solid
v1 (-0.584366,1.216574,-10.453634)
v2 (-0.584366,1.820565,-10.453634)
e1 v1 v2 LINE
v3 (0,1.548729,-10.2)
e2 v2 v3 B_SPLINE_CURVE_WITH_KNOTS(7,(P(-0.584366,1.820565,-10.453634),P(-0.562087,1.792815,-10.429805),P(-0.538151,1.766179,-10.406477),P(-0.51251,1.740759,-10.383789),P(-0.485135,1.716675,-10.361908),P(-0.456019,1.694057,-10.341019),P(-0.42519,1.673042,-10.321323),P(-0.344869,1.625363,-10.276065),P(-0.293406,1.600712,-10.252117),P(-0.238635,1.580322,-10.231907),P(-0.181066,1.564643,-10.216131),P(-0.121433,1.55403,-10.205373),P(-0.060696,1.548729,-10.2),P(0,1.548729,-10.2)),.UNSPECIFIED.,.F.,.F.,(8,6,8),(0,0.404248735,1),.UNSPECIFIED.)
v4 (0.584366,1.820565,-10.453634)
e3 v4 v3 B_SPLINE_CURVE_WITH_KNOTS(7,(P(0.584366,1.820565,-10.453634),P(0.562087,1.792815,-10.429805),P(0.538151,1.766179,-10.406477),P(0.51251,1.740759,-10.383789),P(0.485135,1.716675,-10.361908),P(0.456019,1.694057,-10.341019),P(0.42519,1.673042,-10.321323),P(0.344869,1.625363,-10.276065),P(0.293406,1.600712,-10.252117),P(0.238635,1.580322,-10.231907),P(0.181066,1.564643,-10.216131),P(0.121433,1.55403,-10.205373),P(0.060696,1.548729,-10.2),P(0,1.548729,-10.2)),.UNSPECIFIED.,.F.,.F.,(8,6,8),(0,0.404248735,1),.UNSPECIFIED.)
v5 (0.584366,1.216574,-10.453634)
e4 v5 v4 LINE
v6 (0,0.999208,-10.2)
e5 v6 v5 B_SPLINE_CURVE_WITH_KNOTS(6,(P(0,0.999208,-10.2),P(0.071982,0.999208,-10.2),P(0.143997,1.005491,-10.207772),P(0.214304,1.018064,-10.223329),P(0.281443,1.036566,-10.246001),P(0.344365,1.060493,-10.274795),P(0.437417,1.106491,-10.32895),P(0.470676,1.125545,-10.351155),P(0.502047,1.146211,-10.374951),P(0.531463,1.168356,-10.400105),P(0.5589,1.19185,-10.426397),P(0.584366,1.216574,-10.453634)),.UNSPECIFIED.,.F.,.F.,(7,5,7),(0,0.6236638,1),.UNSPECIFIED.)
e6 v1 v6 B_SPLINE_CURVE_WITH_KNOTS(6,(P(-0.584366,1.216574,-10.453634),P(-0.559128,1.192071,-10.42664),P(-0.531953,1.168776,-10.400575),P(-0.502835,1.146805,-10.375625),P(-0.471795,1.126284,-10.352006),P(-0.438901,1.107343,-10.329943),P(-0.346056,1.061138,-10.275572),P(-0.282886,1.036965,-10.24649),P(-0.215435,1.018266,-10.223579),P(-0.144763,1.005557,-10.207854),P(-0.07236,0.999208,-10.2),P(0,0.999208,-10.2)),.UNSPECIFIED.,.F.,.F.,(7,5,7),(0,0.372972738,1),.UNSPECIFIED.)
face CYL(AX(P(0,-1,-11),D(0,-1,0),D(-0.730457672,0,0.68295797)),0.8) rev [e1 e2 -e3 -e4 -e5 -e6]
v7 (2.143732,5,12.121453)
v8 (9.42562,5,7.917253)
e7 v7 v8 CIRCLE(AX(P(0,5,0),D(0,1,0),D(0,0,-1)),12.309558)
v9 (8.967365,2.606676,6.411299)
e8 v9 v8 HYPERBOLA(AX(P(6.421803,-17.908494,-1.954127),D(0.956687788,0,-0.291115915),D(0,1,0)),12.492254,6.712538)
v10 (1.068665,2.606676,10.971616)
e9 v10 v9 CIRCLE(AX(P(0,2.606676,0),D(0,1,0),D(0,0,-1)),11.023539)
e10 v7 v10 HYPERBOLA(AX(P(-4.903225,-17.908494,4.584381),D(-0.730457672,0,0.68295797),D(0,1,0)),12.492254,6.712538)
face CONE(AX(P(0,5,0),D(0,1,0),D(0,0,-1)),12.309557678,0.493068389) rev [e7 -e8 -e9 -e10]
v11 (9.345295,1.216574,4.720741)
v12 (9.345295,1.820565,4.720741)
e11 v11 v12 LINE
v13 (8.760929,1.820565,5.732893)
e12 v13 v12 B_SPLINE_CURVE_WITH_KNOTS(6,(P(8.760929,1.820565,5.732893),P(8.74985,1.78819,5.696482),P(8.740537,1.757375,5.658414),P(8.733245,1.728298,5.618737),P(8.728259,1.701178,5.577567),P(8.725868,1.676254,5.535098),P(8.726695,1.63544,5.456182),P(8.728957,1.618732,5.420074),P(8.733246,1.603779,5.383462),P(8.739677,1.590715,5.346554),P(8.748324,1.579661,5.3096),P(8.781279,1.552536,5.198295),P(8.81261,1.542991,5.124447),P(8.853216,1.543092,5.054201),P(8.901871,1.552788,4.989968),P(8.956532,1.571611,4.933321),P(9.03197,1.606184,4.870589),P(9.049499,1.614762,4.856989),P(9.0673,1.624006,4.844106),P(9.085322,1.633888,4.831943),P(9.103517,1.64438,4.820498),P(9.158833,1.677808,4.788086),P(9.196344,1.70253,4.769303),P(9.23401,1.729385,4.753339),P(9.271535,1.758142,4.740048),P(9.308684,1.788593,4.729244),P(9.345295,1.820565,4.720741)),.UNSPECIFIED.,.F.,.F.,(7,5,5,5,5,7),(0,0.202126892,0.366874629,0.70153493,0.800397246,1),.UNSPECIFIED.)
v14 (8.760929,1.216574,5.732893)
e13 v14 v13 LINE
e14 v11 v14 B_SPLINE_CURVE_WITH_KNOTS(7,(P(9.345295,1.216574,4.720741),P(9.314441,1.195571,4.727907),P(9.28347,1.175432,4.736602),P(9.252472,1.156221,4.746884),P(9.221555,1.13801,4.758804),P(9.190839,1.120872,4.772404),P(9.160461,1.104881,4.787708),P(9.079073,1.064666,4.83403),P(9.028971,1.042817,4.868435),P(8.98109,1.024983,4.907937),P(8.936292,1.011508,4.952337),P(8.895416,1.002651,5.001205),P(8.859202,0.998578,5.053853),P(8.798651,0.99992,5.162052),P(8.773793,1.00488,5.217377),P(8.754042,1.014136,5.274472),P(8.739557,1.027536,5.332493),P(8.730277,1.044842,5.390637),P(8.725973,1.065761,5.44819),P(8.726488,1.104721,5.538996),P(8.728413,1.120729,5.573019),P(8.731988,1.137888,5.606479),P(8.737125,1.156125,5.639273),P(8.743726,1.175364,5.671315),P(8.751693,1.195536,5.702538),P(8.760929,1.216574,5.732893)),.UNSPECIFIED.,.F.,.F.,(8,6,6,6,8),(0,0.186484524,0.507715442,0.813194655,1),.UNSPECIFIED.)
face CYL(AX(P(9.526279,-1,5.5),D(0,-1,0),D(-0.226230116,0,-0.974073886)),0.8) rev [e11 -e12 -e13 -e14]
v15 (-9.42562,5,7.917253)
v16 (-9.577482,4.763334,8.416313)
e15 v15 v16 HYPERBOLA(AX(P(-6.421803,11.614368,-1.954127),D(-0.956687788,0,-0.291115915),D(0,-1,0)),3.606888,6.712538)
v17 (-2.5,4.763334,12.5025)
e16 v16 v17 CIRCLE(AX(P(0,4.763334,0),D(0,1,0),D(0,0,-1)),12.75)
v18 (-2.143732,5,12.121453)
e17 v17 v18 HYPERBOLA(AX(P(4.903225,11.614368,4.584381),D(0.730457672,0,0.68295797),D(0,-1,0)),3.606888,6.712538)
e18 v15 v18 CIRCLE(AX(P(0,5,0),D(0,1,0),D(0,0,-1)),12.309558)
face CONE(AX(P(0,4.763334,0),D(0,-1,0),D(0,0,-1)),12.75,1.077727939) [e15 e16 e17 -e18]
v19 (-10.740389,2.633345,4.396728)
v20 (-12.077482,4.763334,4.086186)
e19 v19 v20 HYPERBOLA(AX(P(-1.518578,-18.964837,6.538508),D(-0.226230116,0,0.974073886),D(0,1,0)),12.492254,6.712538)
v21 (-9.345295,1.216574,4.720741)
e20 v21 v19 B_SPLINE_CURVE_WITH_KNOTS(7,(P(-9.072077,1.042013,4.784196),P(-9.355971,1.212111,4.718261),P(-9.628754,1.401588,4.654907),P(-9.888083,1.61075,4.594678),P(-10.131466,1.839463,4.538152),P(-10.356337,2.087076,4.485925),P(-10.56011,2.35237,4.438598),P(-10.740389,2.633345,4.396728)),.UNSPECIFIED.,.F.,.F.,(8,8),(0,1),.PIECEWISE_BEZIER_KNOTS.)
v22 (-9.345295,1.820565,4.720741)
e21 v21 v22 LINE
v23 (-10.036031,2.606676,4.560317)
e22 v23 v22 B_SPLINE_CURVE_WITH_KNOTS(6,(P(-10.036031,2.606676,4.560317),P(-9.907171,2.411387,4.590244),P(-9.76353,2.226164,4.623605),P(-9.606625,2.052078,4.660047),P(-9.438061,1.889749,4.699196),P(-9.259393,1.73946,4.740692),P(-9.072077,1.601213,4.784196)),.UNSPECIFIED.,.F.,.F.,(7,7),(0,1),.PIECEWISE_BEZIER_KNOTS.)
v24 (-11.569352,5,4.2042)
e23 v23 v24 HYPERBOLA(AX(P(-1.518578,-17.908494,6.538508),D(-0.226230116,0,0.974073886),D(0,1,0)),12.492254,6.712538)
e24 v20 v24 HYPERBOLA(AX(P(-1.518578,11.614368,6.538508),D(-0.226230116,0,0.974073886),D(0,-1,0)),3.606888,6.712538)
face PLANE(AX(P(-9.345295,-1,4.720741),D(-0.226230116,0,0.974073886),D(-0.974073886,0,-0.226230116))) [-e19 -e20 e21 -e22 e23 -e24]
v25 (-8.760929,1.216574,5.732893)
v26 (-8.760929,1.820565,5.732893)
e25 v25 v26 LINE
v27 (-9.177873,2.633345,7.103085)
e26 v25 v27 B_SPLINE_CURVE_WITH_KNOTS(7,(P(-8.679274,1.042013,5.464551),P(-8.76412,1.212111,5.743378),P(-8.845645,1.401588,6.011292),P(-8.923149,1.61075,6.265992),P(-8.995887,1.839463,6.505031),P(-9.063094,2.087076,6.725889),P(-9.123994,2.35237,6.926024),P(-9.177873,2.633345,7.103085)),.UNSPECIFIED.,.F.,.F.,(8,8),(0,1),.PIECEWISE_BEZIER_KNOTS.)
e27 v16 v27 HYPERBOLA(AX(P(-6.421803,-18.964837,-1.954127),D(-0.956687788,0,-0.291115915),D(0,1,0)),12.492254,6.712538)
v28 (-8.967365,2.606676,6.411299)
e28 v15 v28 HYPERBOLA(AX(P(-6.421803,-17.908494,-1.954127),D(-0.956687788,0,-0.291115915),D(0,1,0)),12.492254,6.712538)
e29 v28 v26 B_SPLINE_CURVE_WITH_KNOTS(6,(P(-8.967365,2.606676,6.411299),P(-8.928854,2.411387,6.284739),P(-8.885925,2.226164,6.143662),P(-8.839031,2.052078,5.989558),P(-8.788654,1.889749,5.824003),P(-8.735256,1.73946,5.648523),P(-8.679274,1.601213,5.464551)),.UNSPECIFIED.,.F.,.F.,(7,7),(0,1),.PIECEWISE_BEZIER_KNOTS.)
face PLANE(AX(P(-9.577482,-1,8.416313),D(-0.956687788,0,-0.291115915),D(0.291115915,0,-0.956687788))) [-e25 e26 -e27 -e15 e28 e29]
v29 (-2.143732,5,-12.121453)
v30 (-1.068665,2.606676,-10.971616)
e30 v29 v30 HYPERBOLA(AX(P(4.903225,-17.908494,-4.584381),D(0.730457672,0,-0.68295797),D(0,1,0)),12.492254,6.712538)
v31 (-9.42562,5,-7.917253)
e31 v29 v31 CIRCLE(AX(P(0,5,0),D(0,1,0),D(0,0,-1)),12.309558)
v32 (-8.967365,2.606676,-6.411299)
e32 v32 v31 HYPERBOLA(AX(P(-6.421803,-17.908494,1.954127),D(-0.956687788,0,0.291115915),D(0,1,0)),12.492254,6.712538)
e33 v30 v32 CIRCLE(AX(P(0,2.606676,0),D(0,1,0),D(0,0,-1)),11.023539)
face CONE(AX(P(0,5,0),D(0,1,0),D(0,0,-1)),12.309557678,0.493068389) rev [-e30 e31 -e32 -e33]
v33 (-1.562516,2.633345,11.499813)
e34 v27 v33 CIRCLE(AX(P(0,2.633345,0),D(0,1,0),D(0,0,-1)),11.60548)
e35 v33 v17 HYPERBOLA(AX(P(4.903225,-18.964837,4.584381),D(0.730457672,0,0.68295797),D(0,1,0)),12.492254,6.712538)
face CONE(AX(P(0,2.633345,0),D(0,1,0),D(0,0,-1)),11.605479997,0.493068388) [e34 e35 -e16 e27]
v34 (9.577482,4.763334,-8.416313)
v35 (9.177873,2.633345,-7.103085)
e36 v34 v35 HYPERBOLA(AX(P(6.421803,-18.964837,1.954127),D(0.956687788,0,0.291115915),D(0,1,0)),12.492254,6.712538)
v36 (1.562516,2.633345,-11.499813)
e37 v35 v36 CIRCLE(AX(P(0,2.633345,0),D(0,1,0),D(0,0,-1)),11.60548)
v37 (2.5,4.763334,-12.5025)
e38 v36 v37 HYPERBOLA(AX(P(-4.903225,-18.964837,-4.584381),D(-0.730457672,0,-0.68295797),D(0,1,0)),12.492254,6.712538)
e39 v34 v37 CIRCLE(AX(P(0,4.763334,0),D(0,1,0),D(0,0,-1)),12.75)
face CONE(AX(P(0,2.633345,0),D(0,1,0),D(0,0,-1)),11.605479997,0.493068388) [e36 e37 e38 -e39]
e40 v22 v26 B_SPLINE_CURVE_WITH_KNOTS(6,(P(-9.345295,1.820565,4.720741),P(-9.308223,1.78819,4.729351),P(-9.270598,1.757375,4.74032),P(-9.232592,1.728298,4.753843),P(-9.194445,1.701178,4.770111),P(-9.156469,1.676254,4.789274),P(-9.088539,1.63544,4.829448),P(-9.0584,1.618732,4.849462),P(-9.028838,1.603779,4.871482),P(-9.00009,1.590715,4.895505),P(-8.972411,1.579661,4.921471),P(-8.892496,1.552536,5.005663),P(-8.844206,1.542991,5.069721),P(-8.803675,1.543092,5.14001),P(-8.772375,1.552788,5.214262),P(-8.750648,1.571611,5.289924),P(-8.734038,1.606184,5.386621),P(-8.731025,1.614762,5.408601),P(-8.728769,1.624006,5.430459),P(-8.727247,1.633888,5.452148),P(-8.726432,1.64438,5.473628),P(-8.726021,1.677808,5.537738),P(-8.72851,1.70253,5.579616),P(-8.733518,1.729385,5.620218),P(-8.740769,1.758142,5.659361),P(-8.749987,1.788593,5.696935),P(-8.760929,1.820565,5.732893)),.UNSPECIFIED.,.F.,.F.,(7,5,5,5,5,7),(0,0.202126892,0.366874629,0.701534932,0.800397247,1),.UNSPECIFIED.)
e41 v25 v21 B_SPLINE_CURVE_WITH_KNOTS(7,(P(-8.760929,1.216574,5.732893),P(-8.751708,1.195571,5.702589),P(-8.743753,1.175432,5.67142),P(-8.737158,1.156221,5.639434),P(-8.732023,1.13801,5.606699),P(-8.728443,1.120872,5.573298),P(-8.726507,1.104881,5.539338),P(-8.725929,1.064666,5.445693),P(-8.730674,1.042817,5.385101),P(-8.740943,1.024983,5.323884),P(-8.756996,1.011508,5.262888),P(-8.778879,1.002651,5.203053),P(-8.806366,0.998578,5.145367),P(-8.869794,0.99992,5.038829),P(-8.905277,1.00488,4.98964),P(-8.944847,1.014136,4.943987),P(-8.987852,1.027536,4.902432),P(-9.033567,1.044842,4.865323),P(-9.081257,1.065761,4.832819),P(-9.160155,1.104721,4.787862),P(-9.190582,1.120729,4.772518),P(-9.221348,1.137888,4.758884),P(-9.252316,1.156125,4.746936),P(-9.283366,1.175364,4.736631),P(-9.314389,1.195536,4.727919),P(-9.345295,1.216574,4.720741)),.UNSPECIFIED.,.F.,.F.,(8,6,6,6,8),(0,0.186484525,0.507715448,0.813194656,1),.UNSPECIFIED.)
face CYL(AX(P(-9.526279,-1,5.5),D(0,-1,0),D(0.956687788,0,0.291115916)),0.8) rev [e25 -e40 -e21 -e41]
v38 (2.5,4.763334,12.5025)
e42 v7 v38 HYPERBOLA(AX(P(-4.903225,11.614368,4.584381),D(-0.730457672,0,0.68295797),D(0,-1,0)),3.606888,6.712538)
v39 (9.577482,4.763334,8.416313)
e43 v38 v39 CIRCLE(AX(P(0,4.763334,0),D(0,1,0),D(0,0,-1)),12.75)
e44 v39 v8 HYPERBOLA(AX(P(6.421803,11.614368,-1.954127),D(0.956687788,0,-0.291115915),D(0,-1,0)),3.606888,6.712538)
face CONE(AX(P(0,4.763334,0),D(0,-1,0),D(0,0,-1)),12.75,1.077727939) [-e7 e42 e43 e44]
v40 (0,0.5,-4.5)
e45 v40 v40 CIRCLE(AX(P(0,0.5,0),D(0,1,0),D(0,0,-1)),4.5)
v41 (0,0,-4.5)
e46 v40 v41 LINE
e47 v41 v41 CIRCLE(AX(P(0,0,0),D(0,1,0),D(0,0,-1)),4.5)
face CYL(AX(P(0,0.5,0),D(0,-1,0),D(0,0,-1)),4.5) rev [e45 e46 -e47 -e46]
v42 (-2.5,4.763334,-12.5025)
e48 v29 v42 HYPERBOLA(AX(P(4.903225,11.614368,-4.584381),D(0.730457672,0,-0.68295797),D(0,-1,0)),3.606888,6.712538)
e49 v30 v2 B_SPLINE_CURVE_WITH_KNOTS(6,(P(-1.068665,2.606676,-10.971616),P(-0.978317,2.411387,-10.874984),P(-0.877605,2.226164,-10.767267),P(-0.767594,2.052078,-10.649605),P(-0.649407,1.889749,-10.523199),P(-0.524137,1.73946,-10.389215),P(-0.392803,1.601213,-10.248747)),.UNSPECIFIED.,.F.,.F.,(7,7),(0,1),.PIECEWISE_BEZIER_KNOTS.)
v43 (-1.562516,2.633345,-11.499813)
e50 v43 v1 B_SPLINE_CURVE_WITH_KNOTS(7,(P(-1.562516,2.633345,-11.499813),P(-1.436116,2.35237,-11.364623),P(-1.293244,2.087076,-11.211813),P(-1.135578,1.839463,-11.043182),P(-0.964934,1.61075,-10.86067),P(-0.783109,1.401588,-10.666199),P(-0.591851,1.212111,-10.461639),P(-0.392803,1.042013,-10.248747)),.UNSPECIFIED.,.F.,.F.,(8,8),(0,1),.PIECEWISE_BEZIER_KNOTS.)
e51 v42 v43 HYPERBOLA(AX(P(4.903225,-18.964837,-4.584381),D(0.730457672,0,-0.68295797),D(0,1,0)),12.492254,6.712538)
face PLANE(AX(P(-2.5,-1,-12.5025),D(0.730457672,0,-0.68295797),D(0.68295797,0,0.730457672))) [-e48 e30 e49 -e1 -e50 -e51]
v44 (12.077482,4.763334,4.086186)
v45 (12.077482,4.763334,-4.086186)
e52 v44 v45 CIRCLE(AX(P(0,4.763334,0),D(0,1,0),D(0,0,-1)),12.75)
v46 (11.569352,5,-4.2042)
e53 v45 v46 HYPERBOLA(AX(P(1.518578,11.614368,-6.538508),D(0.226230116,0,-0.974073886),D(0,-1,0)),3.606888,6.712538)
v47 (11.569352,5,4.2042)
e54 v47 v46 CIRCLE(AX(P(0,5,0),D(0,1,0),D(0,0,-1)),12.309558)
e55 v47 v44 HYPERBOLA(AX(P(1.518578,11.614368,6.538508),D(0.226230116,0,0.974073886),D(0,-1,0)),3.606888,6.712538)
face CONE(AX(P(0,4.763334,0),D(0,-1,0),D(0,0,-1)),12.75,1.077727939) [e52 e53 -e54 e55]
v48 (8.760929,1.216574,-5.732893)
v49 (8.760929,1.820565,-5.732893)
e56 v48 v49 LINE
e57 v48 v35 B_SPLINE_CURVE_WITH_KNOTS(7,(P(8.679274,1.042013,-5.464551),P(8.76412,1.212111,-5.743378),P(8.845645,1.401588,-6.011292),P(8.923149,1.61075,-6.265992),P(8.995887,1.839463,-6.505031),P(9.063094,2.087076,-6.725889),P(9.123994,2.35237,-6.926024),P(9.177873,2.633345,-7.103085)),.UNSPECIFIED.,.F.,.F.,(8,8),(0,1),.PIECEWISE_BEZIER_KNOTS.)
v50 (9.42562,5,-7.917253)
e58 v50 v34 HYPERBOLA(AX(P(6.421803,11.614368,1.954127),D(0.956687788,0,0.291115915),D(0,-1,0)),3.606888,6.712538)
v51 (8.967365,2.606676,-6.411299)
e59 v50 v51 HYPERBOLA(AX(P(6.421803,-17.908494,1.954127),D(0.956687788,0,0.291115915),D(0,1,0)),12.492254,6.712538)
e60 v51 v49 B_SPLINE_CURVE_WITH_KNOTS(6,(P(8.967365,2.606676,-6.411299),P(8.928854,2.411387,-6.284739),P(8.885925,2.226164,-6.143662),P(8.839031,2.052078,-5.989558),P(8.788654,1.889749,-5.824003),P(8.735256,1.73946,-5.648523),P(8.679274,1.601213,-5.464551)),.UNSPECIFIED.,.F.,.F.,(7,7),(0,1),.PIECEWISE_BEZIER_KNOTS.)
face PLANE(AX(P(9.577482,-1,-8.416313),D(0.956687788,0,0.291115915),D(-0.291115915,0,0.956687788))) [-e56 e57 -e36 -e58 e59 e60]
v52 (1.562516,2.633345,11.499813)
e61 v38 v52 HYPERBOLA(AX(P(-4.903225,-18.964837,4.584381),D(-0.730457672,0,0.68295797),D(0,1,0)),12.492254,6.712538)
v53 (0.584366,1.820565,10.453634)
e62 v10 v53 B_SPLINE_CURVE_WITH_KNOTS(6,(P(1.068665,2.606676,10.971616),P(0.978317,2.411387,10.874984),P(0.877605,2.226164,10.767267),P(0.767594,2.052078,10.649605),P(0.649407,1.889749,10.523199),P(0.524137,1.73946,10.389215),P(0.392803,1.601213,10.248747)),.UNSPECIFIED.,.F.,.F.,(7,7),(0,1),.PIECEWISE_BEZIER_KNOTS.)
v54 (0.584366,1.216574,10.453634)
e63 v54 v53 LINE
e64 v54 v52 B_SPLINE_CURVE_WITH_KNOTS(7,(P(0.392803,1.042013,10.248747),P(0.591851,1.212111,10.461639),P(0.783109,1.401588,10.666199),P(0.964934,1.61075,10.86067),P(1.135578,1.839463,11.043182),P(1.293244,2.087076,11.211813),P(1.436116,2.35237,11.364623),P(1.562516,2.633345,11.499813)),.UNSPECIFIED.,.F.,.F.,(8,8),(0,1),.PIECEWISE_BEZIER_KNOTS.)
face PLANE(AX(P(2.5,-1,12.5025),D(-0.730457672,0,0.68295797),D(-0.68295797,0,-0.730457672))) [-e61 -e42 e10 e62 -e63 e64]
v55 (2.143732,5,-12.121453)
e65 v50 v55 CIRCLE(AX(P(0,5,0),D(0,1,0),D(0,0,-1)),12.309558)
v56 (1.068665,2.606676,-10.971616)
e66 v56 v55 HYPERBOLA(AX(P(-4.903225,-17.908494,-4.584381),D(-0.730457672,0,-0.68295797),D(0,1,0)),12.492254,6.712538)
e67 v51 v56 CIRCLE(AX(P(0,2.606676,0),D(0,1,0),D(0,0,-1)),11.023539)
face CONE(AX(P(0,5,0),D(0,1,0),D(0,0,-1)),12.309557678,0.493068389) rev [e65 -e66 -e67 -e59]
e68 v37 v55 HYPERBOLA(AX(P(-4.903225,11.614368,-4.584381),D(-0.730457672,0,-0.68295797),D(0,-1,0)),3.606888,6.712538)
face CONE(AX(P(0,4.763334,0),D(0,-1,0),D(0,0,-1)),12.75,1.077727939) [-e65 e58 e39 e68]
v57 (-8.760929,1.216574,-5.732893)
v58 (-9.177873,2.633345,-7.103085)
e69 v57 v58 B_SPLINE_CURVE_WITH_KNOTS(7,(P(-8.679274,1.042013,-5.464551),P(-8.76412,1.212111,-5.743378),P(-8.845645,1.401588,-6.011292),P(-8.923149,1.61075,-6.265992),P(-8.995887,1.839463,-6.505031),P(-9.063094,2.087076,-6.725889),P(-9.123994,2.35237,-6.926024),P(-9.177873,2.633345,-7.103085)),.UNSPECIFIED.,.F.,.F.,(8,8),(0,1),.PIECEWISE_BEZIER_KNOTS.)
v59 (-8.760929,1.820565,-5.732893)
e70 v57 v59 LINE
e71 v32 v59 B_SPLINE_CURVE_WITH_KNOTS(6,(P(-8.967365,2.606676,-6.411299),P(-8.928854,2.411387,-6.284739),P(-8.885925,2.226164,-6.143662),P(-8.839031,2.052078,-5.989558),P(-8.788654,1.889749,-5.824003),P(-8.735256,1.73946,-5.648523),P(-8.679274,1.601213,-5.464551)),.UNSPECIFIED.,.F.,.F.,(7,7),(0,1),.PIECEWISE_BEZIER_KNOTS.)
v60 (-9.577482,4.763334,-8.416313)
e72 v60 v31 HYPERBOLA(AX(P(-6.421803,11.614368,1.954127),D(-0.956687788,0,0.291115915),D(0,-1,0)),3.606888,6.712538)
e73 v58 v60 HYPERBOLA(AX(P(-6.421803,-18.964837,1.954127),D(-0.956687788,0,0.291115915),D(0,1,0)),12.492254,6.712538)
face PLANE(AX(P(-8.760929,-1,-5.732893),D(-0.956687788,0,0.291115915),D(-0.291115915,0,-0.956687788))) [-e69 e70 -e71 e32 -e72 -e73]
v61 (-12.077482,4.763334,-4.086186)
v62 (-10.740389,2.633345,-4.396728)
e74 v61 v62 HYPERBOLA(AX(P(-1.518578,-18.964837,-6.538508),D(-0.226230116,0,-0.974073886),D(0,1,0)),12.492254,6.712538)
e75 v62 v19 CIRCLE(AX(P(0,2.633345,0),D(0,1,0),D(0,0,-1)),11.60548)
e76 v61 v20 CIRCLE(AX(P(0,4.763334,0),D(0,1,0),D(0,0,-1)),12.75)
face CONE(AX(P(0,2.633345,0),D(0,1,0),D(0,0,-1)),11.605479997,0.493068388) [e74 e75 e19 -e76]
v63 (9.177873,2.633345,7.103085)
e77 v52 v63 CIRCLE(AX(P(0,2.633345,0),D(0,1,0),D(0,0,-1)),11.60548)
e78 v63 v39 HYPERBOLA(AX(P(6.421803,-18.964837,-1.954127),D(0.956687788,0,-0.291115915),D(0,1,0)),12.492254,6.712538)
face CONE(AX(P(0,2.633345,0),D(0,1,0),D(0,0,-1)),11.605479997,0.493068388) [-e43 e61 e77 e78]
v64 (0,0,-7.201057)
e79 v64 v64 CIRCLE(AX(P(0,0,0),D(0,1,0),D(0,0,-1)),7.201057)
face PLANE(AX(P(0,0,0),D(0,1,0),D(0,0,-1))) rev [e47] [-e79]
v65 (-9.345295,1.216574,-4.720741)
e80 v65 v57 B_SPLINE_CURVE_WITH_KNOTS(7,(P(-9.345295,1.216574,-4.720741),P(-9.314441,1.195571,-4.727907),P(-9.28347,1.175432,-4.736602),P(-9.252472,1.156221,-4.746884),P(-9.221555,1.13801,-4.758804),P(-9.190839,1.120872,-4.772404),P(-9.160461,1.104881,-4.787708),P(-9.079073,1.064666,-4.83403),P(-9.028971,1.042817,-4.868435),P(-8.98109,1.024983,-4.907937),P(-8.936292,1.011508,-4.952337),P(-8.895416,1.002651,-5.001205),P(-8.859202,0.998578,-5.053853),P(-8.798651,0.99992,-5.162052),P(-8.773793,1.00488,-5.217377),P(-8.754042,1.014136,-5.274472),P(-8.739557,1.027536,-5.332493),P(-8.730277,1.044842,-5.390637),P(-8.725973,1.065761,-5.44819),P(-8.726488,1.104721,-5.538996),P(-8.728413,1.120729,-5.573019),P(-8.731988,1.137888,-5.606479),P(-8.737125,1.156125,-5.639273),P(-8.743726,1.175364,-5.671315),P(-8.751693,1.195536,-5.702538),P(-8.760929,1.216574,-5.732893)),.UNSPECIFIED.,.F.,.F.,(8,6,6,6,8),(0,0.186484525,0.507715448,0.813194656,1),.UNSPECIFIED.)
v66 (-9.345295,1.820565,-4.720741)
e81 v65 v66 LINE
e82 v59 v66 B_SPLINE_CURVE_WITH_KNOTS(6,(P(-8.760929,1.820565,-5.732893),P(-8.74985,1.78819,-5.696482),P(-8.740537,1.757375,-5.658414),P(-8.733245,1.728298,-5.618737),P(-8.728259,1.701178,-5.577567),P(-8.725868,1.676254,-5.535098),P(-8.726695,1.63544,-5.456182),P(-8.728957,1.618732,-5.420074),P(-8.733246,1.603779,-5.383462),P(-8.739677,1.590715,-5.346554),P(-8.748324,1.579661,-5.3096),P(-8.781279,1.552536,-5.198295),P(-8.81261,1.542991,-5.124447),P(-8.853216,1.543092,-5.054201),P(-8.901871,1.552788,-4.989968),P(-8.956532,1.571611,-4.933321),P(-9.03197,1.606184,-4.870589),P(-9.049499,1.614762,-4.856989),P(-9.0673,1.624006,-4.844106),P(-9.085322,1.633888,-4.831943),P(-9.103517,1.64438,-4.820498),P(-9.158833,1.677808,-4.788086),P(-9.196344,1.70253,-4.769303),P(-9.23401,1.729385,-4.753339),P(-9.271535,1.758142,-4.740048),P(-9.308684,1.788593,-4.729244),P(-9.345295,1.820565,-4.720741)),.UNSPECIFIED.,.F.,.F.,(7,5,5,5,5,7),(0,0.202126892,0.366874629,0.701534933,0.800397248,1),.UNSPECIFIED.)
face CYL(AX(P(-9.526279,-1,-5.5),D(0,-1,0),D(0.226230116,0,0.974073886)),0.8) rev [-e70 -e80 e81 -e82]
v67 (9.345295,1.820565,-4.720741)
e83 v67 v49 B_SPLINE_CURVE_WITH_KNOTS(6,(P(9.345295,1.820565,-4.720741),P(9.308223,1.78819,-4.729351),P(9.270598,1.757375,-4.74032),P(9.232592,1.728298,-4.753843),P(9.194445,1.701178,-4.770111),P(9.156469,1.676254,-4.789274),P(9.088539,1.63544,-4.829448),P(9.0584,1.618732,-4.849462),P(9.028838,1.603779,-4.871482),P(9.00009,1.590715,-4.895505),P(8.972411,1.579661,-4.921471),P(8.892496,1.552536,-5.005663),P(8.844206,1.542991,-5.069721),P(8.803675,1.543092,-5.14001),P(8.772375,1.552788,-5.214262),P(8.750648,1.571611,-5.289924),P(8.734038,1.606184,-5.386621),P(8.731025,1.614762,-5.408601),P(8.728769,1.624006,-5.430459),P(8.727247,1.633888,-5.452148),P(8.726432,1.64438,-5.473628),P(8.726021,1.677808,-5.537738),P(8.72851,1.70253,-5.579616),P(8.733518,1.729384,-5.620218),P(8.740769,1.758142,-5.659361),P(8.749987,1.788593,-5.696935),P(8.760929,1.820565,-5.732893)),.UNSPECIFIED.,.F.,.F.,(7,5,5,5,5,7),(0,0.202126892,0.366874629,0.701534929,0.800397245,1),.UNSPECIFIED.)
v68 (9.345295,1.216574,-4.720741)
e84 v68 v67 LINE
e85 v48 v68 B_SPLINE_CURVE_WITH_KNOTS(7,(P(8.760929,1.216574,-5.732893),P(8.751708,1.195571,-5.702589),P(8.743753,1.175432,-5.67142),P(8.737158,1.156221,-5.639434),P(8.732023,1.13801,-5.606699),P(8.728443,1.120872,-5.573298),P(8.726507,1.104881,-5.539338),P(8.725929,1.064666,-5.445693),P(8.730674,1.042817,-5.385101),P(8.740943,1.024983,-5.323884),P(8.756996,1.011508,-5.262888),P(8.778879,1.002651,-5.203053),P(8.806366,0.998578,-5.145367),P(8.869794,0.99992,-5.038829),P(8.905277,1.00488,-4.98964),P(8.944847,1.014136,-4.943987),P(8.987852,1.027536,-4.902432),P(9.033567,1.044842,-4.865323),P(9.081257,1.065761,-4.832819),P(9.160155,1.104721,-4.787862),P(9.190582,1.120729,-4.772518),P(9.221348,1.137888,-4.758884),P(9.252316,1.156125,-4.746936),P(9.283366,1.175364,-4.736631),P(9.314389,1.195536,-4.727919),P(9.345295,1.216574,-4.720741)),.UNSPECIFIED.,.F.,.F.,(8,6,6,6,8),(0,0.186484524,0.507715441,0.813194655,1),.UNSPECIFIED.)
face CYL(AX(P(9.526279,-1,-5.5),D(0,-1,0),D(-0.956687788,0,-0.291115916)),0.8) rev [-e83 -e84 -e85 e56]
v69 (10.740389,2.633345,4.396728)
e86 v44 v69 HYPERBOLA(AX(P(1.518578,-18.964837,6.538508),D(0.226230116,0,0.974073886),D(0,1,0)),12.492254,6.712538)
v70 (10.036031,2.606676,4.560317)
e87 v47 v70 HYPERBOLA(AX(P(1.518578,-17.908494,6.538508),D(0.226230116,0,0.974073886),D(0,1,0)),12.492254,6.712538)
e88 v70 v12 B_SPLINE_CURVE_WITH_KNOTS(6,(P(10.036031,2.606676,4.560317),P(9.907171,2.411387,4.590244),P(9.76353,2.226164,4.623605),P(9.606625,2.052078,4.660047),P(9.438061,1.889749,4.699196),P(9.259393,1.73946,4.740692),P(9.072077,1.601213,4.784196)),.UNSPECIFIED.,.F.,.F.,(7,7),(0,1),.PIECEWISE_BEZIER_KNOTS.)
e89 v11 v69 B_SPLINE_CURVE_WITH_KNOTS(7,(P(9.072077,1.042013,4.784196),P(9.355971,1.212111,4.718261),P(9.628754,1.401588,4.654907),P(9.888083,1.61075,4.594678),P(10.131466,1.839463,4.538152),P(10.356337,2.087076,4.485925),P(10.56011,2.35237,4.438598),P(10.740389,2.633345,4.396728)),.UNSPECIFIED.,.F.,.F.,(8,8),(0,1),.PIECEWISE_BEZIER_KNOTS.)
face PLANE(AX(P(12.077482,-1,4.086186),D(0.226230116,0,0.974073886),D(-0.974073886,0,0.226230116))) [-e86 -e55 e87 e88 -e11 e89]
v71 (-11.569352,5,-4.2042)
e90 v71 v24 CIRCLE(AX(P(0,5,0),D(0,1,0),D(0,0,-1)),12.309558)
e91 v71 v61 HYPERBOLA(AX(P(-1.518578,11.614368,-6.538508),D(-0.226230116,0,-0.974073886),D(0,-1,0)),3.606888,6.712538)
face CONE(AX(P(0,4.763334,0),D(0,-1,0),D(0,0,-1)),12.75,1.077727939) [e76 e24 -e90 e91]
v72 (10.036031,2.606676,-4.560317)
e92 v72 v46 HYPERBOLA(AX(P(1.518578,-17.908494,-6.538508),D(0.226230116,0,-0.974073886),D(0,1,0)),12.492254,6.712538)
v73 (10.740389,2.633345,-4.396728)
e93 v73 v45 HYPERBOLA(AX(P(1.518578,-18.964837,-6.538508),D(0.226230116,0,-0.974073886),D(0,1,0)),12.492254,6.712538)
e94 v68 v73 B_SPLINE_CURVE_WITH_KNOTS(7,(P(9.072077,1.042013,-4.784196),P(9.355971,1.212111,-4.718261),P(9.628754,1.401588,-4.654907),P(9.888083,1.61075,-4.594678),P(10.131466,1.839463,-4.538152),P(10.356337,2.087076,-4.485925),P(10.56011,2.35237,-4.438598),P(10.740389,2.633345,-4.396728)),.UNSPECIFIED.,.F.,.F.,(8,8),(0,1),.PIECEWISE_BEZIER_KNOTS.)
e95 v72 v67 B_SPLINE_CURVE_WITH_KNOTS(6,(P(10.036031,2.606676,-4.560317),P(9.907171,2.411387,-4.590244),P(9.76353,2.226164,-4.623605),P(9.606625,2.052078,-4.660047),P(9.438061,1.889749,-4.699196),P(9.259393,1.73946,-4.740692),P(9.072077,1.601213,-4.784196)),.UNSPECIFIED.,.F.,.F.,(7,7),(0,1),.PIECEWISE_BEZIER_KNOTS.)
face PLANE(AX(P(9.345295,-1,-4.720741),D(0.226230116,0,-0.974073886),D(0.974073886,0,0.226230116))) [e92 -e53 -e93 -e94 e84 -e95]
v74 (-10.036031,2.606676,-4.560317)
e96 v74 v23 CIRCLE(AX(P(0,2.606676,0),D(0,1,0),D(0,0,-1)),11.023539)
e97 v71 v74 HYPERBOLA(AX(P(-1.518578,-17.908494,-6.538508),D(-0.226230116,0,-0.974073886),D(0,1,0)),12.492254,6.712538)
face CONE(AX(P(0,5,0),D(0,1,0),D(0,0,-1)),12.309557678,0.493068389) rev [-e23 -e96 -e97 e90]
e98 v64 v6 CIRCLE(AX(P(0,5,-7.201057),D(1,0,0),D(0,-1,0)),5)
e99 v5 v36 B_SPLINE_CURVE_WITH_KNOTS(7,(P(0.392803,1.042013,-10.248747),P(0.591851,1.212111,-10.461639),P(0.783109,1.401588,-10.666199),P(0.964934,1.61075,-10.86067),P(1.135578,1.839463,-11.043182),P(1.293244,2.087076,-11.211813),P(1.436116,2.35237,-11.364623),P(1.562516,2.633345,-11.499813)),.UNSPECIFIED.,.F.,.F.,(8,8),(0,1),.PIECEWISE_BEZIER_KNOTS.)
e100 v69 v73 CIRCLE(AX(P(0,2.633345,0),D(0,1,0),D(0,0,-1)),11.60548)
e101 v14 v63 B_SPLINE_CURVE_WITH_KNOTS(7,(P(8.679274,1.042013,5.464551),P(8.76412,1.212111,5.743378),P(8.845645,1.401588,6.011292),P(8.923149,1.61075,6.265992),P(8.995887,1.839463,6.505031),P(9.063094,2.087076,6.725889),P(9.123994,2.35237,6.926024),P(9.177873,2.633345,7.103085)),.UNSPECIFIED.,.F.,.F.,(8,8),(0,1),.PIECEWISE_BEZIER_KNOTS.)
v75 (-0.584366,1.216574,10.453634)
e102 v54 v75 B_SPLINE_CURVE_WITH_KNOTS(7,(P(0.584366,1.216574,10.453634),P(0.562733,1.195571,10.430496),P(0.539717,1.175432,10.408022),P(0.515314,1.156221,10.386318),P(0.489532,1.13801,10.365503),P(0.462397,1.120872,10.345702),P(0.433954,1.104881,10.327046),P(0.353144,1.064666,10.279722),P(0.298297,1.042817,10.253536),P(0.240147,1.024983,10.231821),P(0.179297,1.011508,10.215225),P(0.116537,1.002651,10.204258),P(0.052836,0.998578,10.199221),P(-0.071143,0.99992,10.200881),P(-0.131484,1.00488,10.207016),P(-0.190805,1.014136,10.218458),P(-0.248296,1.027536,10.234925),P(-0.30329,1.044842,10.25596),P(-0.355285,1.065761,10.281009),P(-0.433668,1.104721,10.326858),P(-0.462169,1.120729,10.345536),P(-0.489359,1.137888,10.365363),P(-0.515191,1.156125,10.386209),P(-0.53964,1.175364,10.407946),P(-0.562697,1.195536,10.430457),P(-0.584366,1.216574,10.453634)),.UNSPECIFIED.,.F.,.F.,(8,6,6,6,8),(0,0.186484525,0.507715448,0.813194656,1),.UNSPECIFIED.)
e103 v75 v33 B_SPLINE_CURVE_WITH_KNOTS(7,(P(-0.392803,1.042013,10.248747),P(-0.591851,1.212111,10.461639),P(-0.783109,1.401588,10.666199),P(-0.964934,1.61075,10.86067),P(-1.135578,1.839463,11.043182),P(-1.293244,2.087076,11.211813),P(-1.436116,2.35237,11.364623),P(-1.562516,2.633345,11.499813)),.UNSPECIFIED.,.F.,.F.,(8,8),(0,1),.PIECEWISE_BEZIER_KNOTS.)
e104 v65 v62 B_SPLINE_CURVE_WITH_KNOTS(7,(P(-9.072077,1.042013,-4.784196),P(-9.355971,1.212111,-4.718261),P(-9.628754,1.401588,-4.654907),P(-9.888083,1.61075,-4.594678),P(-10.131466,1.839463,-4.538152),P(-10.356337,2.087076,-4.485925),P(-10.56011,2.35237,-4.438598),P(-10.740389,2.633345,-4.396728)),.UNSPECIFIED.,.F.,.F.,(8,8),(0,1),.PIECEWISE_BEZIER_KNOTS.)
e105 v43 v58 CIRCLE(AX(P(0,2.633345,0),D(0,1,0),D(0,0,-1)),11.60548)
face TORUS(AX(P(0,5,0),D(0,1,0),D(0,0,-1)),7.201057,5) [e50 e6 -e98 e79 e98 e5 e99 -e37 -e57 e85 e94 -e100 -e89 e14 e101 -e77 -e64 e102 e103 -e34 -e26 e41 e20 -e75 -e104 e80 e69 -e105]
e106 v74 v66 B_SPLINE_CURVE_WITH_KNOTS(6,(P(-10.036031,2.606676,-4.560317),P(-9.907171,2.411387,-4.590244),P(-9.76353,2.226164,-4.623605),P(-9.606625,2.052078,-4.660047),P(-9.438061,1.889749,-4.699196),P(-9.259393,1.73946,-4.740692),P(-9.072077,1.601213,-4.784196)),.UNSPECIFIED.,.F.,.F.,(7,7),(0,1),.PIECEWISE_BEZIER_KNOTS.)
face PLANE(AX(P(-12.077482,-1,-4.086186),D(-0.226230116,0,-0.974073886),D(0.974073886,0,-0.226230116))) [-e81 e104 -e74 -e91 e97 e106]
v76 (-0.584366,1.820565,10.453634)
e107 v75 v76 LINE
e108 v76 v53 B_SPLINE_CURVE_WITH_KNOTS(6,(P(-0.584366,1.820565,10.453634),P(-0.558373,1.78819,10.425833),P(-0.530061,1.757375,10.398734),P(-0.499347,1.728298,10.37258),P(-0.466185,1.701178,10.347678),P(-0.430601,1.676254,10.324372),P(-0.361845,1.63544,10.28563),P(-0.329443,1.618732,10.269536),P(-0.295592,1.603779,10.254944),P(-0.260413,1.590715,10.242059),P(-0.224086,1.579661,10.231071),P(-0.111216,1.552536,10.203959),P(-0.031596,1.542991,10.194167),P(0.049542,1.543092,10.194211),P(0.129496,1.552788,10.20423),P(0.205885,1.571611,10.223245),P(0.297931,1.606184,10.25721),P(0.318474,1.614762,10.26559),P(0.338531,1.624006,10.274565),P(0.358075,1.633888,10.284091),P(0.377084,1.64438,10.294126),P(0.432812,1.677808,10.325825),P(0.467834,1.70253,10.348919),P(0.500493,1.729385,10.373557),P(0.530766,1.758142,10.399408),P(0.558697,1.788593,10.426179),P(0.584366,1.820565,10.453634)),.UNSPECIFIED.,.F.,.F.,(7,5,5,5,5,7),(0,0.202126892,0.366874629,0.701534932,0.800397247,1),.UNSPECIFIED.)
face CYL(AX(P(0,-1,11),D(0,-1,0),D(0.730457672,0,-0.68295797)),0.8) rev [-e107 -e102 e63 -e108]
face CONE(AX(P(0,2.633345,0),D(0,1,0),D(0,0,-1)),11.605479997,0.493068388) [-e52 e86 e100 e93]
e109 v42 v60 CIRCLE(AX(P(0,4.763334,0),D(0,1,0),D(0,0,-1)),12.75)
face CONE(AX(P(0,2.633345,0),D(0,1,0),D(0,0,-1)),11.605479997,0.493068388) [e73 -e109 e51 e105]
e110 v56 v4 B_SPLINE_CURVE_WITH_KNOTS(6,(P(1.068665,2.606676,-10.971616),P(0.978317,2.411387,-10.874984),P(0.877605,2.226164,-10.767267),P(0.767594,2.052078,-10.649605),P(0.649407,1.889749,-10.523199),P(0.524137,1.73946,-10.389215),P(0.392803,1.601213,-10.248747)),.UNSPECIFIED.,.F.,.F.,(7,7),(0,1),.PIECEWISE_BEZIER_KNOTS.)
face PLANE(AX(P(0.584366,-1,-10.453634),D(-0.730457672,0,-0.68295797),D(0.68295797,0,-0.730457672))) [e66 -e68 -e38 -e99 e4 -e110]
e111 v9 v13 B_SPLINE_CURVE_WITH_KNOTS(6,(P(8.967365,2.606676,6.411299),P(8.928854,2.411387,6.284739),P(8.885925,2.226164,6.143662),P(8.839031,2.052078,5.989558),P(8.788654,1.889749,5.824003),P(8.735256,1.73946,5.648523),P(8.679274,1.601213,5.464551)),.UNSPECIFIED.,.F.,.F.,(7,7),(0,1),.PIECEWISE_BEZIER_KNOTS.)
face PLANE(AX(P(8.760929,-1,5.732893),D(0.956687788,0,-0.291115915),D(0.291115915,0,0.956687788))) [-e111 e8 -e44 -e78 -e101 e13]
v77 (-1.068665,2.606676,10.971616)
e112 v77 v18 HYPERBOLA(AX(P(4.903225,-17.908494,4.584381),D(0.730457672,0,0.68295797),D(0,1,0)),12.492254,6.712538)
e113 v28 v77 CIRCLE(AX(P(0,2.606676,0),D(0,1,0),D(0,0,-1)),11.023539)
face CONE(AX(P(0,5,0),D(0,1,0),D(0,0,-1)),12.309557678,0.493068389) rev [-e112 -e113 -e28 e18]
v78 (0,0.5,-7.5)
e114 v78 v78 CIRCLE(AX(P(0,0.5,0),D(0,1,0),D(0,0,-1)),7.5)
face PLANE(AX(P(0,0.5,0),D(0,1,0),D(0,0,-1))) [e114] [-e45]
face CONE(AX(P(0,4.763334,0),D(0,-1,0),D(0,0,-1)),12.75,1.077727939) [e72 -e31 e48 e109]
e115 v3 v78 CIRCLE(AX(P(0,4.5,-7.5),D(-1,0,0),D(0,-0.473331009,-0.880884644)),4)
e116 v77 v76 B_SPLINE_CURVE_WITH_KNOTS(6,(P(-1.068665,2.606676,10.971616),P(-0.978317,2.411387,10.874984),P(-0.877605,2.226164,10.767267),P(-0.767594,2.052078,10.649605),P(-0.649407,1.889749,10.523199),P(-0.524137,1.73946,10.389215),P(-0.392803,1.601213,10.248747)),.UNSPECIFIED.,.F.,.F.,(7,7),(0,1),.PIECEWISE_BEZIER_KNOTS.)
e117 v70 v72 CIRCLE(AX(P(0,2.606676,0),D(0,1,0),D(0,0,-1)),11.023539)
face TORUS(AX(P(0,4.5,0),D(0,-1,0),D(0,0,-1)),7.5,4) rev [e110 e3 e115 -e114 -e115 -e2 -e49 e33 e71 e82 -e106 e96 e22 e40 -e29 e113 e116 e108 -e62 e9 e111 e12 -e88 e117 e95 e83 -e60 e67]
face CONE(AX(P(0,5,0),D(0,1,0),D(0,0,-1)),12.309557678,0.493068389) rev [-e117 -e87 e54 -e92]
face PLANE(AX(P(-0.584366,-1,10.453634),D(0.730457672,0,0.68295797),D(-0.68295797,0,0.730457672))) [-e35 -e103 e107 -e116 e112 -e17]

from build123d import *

# Parameters (mm, degrees)
ENL_V_START                  = -1
ENL_V_MAT_EXTRU_1_DEPTH      = 7
R_P_TITION_CIRCULAIRE1_COUNT = 6


with BuildPart() as part:
    # Esquisse2 → Révolution1 (revolve)
    with BuildSketch(Plane.XY, mode=Mode.PRIVATE) as r_volution1_sk:
        with BuildLine():
            Line((4.5, 0), (7.201056776, 0))
            ThreePointArc((7.201056776, 0), (9.766863159, 0.70853899), (11.605479997, 2.633344958))
            Line((11.605479997, 2.633344958), (12.75, 4.763334496))
            Line((12.75, 4.763334496), (12.309557678, 5))
            Line((12.309557678, 5), (11.023538577, 2.606675967))
            ThreePointArc((11.023538577, 2.606675967), (9.552645106, 1.066831192), (7.5, 0.5))
            Line((7.5, 0.5), (4.5, 0.5))
            Line((4.5, 0.5), (4.5, 0))
        make_face()
    revolve(r_volution1_sk.sketch.rotate(Axis((0, 0, 0), (0, 1, 0)), 90), axis=Axis((0, 0, 0), (0, 1, 0)))  # turned: the seam where the file's is

    # Esquisse3 → Enlèv. mat.-Extru.1 (cut)
    with BuildSketch(Plane(origin=(0, 0, 0), x_dir=(1, 0, 0), z_dir=(0, 1, 0)).offset(ENL_V_START)):
        with BuildLine():
            Line((-49.624128755, 62.90410991), (-2.5, 12.50249975))
            Line((-2.5, 12.50249975), (-0.584366138, 10.453633624))
            ThreePointArc((-0.584366138, 10.453633624), (0, 10.2), (0.584366138, 10.453633624))
            Line((0.584366138, 10.453633624), (2.5, 12.50249975))
            Line((2.5, 12.50249975), (49.624128755, 62.90410991))
            Line((49.624128755, 62.90410991), (49.624128755, 200.904194224))
            Line((49.624128755, 200.904194224), (-49.624128755, 200.904194224))
            Line((-49.624128755, 200.904194224), (-49.624128755, 62.90410991))
        make_face()
    enl_v_mat_extru_1 = extrude(amount=ENL_V_MAT_EXTRU_1_DEPTH, mode=Mode.SUBTRACT)

    # Répétition circulaire1: Enlèv. mat.-Extru.1 ×6 about axis
    r_p_tition_circulaire1_axis = Axis((0, 0, 0), (0, 1, 0))
    for i in range(1, R_P_TITION_CIRCULAIRE1_COUNT):
        add(enl_v_mat_extru_1.rotate(r_p_tition_circulaire1_axis, i * 360 / R_P_TITION_CIRCULAIRE1_COUNT), mode=Mode.SUBTRACT)


solid = part.part
